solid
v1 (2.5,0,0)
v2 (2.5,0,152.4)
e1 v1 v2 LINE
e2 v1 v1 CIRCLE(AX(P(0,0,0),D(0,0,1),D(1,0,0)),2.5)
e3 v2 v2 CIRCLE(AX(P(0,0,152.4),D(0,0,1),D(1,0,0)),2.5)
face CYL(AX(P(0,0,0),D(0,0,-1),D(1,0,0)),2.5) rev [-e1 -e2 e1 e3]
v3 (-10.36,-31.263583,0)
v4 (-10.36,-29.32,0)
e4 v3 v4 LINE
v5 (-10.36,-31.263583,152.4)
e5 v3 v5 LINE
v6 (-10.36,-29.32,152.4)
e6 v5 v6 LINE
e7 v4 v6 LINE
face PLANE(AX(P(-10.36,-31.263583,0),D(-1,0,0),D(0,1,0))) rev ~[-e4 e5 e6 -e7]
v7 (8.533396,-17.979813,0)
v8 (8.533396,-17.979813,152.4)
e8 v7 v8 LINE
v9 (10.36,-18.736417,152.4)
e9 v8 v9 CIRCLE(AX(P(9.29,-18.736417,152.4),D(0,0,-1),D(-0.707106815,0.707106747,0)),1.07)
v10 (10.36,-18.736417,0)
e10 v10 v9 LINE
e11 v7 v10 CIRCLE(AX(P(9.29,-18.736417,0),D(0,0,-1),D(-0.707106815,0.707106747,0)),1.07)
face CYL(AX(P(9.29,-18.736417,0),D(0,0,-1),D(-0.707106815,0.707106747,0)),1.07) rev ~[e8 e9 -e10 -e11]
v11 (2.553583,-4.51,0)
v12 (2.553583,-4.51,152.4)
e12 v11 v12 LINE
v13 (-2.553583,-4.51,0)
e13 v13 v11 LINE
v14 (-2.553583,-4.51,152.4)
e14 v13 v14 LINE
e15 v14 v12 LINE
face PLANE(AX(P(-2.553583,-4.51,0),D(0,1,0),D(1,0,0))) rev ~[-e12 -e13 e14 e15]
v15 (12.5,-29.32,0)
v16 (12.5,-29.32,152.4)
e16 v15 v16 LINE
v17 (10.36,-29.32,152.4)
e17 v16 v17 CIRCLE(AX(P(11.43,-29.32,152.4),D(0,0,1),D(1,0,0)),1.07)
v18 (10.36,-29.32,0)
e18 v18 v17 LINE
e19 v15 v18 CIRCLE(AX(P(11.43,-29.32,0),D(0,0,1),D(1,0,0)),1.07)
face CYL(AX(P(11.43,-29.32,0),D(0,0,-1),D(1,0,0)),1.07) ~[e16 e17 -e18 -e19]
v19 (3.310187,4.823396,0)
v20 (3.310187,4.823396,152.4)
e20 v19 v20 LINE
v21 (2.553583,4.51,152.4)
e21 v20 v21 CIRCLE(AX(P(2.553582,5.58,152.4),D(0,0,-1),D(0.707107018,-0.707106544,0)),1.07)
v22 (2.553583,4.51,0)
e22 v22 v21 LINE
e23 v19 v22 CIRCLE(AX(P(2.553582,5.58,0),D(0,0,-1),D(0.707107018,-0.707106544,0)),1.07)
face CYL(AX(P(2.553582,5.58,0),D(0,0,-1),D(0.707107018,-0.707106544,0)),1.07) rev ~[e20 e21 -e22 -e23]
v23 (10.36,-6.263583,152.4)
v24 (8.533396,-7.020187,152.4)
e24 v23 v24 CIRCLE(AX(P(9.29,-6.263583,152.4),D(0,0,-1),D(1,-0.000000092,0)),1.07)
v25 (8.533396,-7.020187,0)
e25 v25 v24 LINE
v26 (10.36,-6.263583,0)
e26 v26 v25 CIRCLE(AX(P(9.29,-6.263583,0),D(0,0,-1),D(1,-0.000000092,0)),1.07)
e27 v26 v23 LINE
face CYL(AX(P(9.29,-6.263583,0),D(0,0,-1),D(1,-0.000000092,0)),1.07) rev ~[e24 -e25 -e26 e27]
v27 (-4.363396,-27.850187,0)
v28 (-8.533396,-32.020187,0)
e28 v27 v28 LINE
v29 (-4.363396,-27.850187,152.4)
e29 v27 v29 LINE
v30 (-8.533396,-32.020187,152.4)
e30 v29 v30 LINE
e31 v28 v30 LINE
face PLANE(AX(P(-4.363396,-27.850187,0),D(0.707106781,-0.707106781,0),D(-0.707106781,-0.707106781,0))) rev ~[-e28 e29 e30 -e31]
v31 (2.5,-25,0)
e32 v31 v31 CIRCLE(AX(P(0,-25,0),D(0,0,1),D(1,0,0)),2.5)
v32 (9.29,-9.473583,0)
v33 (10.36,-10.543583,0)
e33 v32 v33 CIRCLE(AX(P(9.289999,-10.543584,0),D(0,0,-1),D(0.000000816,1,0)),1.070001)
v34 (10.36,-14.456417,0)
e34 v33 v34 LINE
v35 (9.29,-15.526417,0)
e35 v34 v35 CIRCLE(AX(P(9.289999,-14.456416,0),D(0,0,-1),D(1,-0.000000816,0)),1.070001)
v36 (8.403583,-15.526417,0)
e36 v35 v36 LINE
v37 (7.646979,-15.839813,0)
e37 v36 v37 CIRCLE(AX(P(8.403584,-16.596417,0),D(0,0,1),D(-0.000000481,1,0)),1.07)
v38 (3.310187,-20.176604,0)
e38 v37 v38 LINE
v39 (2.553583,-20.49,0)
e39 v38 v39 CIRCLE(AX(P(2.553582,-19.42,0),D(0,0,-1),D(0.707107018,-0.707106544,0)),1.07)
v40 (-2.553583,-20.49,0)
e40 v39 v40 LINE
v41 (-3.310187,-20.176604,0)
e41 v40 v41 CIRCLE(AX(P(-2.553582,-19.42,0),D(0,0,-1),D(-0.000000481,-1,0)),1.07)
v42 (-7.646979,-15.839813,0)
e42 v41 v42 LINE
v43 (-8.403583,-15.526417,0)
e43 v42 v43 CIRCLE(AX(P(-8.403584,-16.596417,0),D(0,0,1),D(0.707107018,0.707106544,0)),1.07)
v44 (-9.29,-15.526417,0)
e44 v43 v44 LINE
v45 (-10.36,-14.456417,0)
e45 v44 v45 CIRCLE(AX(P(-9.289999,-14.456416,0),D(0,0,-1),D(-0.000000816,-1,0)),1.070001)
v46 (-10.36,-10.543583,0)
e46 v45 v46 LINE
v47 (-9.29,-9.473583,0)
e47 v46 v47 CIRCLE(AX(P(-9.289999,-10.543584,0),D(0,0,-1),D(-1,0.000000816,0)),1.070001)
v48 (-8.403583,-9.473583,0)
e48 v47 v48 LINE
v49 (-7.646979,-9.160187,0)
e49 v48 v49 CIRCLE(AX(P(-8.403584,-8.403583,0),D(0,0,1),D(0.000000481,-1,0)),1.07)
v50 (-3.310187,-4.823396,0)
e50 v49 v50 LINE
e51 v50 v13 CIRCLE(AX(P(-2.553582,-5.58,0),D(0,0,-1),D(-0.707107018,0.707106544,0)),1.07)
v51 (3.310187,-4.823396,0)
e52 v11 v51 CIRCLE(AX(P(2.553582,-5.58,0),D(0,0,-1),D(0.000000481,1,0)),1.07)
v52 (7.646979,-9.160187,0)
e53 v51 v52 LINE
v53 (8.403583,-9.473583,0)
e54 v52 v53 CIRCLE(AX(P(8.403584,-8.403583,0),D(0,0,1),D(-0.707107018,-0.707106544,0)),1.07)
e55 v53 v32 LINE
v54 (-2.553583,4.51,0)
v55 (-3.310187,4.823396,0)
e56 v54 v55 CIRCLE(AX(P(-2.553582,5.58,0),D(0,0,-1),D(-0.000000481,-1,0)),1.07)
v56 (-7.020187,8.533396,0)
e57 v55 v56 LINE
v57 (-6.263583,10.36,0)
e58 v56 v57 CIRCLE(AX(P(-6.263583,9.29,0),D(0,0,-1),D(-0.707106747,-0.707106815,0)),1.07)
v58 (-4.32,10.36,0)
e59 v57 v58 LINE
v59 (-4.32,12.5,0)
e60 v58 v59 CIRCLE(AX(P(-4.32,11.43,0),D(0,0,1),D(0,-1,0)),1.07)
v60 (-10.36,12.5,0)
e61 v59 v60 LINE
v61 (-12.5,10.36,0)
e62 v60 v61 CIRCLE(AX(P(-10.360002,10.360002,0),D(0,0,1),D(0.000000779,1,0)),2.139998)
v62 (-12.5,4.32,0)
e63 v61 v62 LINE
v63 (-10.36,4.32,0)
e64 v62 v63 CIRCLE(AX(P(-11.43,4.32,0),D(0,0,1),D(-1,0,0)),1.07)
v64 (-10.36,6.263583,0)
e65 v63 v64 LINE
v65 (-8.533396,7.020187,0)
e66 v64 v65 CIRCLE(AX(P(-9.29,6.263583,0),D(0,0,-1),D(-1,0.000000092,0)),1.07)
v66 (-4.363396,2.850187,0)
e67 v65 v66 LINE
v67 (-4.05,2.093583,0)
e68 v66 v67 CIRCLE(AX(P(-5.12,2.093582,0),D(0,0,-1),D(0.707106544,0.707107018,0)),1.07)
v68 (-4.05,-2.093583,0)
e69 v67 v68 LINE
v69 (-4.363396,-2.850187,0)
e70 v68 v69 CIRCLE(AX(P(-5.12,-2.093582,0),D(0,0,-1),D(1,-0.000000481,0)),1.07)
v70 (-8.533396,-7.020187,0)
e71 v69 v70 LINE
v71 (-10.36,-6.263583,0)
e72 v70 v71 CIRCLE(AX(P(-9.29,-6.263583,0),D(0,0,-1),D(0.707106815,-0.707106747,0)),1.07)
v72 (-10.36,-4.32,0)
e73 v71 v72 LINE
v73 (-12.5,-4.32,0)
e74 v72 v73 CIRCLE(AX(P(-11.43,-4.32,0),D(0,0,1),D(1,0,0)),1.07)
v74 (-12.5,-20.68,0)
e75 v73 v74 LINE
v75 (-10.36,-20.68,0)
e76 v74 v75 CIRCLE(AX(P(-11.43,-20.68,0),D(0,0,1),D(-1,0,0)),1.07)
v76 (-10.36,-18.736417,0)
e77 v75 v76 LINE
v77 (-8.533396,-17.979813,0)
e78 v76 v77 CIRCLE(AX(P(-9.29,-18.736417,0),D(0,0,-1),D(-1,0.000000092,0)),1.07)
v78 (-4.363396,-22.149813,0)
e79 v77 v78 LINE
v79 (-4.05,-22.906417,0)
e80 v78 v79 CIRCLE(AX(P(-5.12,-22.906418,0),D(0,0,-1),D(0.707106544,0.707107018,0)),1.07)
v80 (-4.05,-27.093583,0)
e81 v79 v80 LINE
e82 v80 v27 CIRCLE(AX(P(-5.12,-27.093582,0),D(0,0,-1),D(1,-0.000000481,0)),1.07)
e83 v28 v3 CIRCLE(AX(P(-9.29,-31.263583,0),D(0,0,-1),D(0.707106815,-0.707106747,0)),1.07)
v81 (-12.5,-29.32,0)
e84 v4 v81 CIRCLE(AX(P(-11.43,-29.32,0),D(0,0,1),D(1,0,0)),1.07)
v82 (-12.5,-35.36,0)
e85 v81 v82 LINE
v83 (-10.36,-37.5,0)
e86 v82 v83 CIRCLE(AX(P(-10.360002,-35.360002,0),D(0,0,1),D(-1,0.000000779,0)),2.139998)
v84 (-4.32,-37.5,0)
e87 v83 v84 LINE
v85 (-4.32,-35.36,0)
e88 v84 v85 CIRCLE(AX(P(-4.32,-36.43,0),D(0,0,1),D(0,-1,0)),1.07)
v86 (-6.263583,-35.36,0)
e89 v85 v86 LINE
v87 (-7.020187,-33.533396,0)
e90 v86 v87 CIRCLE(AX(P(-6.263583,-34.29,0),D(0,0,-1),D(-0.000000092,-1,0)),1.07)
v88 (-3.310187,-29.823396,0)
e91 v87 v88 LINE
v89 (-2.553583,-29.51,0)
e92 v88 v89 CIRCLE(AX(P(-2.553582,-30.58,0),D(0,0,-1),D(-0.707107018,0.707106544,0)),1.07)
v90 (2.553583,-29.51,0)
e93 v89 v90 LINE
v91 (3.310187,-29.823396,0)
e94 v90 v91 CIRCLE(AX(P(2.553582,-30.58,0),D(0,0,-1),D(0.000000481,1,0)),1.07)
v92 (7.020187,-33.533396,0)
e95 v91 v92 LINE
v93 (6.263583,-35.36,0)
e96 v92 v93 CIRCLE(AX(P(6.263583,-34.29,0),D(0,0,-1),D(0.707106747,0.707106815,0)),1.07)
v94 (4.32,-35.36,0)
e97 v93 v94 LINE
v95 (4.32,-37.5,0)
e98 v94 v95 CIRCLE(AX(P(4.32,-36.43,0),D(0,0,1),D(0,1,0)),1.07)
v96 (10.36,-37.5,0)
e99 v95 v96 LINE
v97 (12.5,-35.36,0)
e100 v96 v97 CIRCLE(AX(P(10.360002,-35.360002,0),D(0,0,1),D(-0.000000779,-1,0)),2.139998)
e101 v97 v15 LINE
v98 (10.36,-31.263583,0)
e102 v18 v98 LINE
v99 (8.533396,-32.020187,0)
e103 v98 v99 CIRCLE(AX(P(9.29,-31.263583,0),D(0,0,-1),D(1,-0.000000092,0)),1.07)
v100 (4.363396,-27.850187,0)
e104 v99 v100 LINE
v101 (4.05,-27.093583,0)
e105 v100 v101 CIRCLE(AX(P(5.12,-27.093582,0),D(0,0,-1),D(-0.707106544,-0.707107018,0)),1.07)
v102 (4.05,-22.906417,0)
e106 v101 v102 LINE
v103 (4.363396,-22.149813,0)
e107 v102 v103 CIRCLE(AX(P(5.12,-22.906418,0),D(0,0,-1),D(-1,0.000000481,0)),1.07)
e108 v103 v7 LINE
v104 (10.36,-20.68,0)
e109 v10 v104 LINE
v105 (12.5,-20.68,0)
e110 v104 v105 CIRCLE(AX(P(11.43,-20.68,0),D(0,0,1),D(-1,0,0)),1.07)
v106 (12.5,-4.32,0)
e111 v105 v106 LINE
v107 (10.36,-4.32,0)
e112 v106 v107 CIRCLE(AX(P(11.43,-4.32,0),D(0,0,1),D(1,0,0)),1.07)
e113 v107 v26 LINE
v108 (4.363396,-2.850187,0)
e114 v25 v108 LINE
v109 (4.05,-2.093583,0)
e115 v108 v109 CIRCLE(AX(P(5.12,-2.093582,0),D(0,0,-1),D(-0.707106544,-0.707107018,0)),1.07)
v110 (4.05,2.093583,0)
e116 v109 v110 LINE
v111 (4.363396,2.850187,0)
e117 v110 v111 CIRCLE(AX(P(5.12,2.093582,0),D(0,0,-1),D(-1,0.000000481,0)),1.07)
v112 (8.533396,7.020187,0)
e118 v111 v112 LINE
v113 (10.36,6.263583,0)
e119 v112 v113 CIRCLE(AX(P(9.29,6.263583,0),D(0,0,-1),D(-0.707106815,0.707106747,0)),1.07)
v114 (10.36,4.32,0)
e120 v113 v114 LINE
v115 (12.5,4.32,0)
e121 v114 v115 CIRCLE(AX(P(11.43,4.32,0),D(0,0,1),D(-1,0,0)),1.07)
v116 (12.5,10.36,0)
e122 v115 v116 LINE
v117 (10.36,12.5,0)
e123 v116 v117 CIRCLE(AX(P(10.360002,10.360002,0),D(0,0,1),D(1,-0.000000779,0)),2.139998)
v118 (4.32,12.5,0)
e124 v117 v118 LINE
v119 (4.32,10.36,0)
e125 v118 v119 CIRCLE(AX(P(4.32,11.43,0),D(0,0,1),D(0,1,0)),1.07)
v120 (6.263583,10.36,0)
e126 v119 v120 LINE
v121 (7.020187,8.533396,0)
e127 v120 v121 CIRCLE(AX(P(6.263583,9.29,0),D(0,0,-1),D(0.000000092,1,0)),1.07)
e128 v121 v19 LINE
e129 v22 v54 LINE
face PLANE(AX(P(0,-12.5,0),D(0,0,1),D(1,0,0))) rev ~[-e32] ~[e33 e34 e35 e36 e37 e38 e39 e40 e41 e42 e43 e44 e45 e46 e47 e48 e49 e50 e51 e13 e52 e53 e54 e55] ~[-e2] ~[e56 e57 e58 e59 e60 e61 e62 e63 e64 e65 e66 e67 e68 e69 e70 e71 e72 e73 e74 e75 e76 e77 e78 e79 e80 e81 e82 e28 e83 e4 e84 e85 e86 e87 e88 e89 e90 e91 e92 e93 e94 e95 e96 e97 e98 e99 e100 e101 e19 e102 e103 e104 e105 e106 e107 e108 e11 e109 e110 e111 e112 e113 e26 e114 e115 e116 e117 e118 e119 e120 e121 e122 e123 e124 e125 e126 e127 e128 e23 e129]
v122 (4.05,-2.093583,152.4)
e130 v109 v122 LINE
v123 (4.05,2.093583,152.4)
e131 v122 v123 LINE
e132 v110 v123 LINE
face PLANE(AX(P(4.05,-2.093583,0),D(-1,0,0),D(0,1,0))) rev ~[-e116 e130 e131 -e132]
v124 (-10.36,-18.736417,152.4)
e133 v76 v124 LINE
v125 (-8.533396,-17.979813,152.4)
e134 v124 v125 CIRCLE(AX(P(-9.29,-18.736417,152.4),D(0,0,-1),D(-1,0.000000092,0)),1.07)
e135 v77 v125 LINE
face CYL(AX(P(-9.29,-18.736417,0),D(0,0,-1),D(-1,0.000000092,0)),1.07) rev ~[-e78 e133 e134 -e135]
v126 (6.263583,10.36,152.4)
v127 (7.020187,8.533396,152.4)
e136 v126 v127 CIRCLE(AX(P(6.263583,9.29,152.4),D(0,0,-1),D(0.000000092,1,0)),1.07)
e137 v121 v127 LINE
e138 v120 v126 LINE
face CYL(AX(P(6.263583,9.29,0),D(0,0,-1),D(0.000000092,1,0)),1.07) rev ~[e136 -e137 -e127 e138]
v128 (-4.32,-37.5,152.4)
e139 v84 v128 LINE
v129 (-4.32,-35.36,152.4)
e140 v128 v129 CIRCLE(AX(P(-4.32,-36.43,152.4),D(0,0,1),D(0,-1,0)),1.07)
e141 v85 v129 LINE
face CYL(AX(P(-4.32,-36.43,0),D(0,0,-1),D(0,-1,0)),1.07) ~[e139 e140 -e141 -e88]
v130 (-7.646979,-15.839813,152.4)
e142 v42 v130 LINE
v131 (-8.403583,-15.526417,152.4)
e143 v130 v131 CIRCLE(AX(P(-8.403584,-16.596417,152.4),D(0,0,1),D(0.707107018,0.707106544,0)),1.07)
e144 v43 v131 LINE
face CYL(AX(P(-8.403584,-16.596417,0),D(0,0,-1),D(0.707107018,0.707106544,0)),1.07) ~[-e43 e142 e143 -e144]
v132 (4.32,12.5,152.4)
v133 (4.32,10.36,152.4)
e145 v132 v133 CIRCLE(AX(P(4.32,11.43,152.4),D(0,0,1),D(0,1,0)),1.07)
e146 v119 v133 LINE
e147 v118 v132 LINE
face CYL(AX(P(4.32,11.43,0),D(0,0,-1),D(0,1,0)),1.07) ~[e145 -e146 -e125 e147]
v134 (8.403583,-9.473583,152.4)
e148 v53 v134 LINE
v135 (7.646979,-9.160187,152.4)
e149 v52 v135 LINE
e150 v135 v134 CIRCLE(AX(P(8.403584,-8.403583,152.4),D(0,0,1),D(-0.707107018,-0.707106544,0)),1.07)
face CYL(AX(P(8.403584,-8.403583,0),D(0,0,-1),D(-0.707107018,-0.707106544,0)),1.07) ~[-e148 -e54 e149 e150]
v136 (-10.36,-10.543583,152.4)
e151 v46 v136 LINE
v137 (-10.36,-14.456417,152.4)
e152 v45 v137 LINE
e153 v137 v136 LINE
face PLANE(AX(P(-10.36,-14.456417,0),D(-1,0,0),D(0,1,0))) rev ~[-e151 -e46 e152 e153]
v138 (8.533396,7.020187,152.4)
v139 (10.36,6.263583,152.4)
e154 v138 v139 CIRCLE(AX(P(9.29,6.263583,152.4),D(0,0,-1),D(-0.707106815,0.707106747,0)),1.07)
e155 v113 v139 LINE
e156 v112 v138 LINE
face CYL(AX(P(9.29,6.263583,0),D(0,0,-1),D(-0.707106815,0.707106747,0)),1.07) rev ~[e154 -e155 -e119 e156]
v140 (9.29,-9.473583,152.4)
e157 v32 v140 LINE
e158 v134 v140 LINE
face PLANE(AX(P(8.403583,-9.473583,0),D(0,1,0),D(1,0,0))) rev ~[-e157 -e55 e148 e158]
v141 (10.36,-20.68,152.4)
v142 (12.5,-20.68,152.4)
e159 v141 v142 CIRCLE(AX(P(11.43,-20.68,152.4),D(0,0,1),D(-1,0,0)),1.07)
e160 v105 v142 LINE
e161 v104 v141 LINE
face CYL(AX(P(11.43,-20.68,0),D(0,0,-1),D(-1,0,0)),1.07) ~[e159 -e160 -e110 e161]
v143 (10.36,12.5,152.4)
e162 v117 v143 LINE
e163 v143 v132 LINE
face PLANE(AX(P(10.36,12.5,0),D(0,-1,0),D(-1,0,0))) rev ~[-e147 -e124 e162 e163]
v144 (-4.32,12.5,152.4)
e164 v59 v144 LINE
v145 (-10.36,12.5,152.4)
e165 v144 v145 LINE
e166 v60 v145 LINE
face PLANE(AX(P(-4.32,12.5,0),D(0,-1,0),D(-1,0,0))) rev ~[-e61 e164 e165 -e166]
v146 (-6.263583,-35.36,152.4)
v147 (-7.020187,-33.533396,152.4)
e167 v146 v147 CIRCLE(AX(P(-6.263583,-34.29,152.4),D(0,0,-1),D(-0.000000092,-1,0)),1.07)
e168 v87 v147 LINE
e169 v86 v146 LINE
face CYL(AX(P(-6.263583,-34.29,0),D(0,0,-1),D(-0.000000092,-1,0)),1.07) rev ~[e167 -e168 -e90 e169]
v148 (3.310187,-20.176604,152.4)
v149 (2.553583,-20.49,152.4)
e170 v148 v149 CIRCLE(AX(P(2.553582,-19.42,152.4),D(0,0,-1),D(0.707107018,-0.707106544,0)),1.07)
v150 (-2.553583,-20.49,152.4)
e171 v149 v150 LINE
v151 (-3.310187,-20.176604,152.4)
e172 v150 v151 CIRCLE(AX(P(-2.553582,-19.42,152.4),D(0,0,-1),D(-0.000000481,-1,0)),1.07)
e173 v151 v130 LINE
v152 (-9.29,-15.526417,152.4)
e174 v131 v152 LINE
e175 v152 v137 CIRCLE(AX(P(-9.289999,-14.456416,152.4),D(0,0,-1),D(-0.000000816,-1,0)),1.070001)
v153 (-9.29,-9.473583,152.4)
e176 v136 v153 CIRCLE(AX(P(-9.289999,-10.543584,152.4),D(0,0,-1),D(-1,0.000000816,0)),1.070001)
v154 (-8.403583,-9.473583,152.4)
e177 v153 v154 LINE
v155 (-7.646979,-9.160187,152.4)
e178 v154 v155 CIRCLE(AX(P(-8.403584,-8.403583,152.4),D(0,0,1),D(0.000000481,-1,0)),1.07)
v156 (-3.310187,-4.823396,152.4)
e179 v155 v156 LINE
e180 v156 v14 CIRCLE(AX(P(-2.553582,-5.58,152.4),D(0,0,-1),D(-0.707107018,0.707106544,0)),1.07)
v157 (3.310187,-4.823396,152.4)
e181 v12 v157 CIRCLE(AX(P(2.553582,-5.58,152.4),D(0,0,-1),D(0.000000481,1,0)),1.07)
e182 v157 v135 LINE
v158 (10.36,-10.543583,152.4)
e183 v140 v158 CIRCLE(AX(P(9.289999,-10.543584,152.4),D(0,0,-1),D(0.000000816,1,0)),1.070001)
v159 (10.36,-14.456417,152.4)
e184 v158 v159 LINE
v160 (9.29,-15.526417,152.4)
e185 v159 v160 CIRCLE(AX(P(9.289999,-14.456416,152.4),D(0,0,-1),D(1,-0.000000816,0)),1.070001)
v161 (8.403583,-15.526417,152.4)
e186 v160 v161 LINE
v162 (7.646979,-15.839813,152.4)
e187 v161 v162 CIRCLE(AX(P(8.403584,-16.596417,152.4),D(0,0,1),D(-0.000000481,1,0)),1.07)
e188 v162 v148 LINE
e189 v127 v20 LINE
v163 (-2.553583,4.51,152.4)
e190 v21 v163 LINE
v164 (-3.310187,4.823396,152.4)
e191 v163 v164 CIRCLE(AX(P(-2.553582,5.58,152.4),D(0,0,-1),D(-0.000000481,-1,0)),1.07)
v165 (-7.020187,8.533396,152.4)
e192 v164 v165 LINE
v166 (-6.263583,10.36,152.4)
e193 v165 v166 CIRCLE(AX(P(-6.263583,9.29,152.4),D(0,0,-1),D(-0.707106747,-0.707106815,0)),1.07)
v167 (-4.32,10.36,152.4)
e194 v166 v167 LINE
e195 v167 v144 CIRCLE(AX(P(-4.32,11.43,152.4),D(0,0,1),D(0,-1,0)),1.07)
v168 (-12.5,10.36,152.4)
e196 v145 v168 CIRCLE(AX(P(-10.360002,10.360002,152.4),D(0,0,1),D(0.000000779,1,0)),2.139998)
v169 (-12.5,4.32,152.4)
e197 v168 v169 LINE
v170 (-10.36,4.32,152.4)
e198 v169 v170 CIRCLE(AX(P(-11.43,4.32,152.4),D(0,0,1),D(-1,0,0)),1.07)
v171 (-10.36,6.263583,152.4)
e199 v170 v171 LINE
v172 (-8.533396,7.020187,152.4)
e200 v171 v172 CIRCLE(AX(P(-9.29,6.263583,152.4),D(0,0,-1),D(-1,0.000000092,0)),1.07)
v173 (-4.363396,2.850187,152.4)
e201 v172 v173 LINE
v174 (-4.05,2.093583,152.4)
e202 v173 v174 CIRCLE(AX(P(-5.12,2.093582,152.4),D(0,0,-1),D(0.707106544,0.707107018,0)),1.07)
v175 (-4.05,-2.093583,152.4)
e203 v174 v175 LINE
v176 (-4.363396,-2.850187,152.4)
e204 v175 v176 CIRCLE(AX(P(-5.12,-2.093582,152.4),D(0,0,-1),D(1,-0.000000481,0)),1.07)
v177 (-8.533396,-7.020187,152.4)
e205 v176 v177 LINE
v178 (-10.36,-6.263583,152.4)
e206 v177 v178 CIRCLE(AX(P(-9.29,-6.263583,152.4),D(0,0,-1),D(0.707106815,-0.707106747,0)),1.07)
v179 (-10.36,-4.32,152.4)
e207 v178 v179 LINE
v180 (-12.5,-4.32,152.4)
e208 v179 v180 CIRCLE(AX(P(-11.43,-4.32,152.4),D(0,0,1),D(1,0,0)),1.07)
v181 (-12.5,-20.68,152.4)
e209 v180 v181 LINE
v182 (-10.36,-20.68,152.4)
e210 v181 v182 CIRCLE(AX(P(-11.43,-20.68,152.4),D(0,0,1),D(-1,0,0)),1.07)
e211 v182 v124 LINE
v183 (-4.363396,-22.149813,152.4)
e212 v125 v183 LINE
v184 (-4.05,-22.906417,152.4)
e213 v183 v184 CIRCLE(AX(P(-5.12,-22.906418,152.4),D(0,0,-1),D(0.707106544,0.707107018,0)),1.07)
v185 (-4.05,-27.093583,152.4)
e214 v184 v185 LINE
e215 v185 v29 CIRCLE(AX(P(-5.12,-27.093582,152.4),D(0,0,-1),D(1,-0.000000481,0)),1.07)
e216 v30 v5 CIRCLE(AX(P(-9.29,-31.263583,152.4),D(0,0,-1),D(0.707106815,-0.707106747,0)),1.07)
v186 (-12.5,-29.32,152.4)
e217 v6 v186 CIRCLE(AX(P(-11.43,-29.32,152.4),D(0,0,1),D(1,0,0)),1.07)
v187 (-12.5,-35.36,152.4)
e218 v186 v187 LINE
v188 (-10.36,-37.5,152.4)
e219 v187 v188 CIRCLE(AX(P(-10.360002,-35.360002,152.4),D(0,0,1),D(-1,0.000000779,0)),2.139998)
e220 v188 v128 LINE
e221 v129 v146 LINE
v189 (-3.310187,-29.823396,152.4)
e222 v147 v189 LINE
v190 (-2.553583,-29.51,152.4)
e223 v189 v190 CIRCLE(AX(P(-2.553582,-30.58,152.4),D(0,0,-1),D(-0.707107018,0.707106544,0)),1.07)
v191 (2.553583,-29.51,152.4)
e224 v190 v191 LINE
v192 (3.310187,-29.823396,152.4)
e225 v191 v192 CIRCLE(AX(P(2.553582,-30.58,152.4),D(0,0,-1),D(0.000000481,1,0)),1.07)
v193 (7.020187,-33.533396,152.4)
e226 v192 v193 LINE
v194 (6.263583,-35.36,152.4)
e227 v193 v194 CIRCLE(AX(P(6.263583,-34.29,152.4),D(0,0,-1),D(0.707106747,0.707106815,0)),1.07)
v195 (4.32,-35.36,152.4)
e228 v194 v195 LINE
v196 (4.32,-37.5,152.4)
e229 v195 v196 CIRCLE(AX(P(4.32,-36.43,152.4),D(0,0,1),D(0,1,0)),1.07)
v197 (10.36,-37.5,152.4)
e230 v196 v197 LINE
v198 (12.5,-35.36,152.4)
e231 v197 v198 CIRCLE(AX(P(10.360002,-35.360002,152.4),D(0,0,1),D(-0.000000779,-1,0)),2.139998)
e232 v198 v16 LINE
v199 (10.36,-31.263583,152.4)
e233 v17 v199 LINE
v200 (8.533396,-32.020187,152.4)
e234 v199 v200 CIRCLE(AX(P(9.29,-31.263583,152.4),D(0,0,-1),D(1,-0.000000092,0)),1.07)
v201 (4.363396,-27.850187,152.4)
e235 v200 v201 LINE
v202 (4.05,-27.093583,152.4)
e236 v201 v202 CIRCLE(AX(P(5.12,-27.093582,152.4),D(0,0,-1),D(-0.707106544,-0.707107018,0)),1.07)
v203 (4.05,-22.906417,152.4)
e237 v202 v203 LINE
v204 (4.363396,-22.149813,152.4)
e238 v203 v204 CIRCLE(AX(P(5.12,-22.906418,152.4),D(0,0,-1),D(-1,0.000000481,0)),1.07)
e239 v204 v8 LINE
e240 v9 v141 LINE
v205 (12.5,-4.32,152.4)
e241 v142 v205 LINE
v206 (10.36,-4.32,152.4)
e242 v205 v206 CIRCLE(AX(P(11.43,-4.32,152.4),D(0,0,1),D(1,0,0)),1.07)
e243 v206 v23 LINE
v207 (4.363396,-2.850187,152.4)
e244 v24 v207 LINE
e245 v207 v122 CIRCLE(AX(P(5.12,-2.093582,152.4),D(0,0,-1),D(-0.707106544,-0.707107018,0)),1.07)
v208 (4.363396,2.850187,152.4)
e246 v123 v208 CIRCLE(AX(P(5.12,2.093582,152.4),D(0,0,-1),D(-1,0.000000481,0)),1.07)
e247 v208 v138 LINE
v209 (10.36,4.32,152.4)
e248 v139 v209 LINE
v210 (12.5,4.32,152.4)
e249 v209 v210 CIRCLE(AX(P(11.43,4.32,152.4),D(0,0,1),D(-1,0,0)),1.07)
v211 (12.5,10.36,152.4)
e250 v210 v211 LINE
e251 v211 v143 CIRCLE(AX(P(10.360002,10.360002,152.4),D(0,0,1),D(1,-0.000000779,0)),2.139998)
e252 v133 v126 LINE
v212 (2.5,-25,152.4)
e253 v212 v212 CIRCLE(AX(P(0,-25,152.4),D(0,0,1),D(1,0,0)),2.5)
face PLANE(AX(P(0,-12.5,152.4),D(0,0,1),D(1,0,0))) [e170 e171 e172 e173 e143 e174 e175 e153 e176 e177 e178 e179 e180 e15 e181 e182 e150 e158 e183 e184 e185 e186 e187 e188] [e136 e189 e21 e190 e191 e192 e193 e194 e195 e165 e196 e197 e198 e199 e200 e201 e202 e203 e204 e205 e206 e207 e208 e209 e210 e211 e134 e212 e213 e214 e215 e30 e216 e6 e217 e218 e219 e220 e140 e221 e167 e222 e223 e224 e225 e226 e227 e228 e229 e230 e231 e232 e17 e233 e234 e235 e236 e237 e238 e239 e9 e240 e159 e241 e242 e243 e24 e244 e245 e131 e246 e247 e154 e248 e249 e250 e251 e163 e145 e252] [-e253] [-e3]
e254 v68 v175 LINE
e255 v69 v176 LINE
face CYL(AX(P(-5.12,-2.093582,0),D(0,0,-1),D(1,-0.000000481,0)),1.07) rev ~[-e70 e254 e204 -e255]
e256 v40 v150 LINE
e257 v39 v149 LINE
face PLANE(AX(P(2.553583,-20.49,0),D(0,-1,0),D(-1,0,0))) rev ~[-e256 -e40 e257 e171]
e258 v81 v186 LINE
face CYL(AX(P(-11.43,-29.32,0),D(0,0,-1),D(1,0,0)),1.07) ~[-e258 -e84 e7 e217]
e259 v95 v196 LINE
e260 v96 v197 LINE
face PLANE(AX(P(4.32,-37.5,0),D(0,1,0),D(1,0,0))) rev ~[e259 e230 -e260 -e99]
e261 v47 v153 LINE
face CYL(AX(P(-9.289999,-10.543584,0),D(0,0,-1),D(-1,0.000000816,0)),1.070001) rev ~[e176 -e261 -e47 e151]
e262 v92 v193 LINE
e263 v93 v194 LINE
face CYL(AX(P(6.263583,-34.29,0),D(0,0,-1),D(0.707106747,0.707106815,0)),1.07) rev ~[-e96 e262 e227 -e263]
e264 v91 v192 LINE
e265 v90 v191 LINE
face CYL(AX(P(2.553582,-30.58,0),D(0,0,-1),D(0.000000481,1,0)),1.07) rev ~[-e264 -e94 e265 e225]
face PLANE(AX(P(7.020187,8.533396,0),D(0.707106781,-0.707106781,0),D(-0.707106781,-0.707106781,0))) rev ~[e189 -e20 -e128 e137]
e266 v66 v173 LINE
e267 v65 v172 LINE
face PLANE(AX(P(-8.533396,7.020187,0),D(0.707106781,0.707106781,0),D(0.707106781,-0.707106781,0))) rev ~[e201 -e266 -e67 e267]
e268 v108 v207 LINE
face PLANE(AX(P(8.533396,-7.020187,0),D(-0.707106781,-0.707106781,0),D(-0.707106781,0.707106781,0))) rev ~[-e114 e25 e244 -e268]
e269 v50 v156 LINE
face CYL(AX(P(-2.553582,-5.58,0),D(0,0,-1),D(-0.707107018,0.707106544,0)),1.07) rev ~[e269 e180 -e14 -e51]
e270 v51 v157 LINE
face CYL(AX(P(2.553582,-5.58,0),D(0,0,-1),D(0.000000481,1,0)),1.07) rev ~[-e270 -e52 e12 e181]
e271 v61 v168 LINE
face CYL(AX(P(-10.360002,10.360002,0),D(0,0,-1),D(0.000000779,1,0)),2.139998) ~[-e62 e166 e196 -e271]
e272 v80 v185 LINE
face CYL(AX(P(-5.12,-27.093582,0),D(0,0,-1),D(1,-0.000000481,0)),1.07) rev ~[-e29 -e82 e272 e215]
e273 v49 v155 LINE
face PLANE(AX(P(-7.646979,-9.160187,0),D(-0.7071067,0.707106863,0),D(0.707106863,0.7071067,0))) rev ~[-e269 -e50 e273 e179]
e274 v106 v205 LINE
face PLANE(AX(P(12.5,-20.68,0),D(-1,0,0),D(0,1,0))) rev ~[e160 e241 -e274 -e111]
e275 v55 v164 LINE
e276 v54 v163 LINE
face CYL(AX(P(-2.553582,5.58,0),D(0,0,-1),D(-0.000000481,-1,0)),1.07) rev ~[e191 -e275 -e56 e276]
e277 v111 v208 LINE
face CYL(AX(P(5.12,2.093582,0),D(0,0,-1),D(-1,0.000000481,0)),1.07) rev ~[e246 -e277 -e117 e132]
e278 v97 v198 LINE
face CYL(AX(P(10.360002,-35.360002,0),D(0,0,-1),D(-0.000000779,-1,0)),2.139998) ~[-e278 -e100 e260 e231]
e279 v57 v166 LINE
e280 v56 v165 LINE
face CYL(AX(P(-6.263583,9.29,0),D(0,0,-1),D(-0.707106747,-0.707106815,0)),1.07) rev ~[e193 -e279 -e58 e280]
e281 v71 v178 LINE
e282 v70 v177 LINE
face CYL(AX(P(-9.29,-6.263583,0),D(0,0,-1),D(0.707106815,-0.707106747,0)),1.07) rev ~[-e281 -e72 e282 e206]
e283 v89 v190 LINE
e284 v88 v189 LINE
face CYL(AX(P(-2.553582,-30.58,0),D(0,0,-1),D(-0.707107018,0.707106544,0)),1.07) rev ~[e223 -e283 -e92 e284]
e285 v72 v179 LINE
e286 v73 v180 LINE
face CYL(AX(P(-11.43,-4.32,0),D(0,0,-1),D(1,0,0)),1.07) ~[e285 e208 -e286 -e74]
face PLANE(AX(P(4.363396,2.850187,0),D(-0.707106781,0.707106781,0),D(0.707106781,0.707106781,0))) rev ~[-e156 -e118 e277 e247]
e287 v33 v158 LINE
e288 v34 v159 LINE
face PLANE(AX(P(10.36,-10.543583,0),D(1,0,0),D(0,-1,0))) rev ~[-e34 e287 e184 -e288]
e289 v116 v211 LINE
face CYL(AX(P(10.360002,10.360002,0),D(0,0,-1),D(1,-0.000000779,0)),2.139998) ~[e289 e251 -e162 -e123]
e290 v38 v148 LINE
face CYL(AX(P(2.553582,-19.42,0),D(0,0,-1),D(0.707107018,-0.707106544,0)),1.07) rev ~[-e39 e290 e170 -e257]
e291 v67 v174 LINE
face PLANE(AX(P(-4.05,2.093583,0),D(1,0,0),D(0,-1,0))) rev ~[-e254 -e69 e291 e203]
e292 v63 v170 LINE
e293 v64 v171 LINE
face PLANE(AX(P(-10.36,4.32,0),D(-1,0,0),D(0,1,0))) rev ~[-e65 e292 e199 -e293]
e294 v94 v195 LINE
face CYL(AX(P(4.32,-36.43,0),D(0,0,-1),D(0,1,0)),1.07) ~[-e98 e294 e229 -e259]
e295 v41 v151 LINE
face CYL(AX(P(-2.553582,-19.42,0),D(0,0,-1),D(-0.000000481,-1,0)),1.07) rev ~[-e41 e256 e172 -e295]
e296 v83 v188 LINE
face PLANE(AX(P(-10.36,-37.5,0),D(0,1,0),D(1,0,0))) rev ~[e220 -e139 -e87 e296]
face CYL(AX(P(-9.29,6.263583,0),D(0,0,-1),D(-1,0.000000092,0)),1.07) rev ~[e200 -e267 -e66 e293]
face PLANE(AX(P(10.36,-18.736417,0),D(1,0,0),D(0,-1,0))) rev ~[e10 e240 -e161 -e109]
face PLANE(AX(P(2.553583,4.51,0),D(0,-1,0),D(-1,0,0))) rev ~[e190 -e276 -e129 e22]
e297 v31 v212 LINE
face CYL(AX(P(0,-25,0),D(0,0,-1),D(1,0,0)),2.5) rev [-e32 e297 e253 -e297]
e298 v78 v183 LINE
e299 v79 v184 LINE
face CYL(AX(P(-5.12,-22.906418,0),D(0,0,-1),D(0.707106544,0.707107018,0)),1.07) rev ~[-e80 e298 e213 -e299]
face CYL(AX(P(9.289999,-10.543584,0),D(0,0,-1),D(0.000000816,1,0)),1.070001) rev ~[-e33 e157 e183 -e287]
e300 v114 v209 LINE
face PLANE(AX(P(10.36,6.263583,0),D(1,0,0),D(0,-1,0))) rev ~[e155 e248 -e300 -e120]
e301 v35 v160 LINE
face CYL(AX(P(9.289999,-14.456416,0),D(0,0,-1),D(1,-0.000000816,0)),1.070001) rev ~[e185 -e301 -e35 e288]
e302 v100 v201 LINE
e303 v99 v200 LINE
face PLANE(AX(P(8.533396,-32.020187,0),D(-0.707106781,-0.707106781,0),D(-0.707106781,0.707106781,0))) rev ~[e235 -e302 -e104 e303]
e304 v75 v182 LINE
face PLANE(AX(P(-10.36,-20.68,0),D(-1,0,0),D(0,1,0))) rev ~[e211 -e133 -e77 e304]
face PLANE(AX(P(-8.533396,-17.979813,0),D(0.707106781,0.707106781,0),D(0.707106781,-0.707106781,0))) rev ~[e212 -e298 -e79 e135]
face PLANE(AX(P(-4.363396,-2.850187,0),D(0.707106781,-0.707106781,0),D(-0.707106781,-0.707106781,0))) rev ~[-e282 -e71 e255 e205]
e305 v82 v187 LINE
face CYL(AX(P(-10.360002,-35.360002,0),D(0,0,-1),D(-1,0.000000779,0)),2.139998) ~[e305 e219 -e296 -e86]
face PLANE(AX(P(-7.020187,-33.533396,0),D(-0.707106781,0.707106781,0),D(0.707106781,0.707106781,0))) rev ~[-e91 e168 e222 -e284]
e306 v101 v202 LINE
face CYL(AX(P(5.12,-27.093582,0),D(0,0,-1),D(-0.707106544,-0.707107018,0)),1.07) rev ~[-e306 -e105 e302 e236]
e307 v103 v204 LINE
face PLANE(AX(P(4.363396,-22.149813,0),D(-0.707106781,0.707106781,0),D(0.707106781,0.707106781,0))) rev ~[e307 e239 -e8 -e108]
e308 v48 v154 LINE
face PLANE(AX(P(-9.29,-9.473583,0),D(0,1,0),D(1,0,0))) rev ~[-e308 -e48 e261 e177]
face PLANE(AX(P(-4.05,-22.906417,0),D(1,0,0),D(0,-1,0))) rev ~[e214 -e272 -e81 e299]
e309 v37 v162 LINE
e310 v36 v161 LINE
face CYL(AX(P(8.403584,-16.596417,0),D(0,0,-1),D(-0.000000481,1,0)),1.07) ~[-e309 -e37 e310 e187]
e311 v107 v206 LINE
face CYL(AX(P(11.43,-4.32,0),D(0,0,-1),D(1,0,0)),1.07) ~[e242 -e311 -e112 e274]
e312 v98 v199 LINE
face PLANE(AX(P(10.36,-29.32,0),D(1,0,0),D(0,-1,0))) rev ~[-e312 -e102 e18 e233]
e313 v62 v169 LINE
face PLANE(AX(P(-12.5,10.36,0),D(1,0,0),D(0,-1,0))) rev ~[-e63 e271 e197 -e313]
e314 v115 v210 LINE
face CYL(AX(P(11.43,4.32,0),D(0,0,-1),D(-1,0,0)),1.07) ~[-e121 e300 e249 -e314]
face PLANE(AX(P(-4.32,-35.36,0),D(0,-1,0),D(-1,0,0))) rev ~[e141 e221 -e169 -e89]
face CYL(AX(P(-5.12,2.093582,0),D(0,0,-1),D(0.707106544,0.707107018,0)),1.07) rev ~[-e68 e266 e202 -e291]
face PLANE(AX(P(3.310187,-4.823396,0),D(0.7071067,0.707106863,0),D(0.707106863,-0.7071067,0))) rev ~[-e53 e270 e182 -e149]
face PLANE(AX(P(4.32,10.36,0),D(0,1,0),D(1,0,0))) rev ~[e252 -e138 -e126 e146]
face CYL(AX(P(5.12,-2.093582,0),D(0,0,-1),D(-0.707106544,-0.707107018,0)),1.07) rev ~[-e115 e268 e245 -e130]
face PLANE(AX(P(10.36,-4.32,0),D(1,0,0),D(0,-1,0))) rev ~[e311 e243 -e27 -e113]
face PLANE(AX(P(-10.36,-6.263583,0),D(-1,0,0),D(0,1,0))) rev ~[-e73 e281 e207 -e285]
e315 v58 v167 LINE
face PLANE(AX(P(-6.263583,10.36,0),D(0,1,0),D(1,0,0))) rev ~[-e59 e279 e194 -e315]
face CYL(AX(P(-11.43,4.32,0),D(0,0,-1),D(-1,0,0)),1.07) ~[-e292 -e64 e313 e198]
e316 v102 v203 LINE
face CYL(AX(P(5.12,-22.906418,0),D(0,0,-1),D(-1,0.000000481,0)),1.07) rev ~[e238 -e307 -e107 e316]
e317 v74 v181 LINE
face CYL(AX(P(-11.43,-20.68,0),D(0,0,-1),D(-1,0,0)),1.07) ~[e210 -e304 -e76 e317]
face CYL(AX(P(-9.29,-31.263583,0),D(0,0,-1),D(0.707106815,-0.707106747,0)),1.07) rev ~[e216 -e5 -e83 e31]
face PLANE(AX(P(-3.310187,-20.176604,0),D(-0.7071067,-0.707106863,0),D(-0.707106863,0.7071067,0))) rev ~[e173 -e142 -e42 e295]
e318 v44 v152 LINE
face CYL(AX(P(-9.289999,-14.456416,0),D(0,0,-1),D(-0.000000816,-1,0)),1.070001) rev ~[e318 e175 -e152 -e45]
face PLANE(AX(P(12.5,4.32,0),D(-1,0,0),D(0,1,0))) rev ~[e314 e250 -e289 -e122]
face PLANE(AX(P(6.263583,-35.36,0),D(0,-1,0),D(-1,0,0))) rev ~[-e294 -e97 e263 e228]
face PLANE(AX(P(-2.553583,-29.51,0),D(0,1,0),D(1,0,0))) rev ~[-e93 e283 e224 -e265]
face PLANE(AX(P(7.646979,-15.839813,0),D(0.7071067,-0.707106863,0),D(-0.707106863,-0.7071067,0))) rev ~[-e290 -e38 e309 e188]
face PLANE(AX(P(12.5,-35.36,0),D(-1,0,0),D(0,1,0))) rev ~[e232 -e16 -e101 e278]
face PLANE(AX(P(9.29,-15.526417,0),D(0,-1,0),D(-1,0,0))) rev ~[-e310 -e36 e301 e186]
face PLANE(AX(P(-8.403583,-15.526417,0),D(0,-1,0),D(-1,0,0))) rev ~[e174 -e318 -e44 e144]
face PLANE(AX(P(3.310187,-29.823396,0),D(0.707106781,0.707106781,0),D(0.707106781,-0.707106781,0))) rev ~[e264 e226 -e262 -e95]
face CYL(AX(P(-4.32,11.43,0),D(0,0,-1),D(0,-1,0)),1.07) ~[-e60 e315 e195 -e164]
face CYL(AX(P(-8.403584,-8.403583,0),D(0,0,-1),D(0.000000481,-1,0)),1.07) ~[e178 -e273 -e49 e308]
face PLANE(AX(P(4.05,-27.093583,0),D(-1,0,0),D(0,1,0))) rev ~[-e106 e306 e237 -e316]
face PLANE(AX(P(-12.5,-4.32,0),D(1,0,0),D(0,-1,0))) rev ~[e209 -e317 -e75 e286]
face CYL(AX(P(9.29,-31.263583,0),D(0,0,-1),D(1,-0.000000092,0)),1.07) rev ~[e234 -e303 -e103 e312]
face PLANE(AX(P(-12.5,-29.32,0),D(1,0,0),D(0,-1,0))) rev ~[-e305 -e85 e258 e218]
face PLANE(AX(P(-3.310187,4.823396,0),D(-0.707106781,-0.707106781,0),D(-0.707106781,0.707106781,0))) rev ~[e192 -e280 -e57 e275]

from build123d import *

# Parameters (mm, degrees)
F0_R     = 2.5
F1_DEPTH = 152.4


with BuildPart() as f1:
    # F0 (on Top) → F1 (new body)
    with BuildSketch(Plane.XY):
        with BuildLine():
            ThreePointArc((-10.36, 12.5), (-11.873209, 11.873209), (-12.5, 10.36))
            Line((-12.5, 10.36), (-12.5, 4.32))
            ThreePointArc((-12.5, 4.32), (-11.43, 3.25), (-10.36, 4.32))
            Line((-10.36, 4.32), (-10.36, 6.263583))
            ThreePointArc((-10.36, 6.263583), (-9.699471, 7.252134), (-8.533396, 7.020187))
            Line((-8.533396, 7.020187), (-4.363396, 2.850187))
            ThreePointArc((-4.363396, 2.850187), (-4.131449, 2.503054), (-4.05, 2.093583))
            Line((-4.05, 2.093583), (-4.05, 0))
            Line((-4.05, 0), (-4.05, -2.093583))
            ThreePointArc((-4.05, -2.093583), (-4.131449, -2.503054), (-4.363396, -2.850187))
            Line((-4.363396, -2.850187), (-8.533396, -7.020187))
            ThreePointArc((-8.533396, -7.020187), (-9.699471, -7.252134), (-10.36, -6.263583))
            Line((-10.36, -6.263583), (-10.36, -4.32))
            ThreePointArc((-10.36, -4.32), (-11.43, -3.25), (-12.5, -4.32))
            Line((-12.5, -4.32), (-12.5, -12.5))
            Line((-12.5, -12.5), (-12.5, -20.68))
            ThreePointArc((-12.5, -20.68), (-11.43, -21.75), (-10.36, -20.68))
            Line((-10.36, -20.68), (-10.36, -18.736417))
            ThreePointArc((-10.36, -18.736417), (-9.699471, -17.747866), (-8.533396, -17.979813))
            Line((-8.533396, -17.979813), (-4.363396, -22.149813))
            ThreePointArc((-4.363396, -22.149813), (-4.131449, -22.496946), (-4.05, -22.906417))
            Line((-4.05, -22.906417), (-4.05, -25))
            Line((-4.05, -25), (-4.05, -27.093583))
            ThreePointArc((-4.05, -27.093583), (-4.131449, -27.503054), (-4.363396, -27.850187))
            Line((-4.363396, -27.850187), (-8.533396, -32.020187))
            ThreePointArc((-8.533396, -32.020187), (-9.699471, -32.252134), (-10.36, -31.263583))
            Line((-10.36, -31.263583), (-10.36, -29.32))
            ThreePointArc((-10.36, -29.32), (-11.43, -28.25), (-12.5, -29.32))
            Line((-12.5, -29.32), (-12.5, -35.36))
            ThreePointArc((-12.5, -35.36), (-11.873209, -36.873209), (-10.36, -37.5))
            Line((-10.36, -37.5), (-4.32, -37.5))
            ThreePointArc((-4.32, -37.5), (-3.25, -36.43), (-4.32, -35.36))
            Line((-4.32, -35.36), (-6.263583, -35.36))
            ThreePointArc((-6.263583, -35.36), (-7.252134, -34.699471), (-7.020187, -33.533396))
            Line((-7.020187, -33.533396), (-3.310187, -29.823396))
            ThreePointArc((-3.310187, -29.823396), (-2.963054, -29.591449), (-2.553583, -29.51))
            Line((-2.553583, -29.51), (0, -29.51))
            Line((0, -29.51), (2.553583, -29.51))
            ThreePointArc((2.553583, -29.51), (2.963054, -29.591449), (3.310187, -29.823396))
            Line((3.310187, -29.823396), (7.020187, -33.533396))
            ThreePointArc((7.020187, -33.533396), (7.252134, -34.699471), (6.263583, -35.36))
            Line((6.263583, -35.36), (4.32, -35.36))
            ThreePointArc((4.32, -35.36), (3.25, -36.43), (4.32, -37.5))
            Line((4.32, -37.5), (10.36, -37.5))
            ThreePointArc((10.36, -37.5), (11.873209, -36.873209), (12.5, -35.36))
            Line((12.5, -35.36), (12.5, -29.32))
            ThreePointArc((12.5, -29.32), (11.43, -28.25), (10.36, -29.32))
            Line((10.36, -29.32), (10.36, -31.263583))
            ThreePointArc((10.36, -31.263583), (9.699471, -32.252134), (8.533396, -32.020187))
            Line((8.533396, -32.020187), (4.363396, -27.850187))
            ThreePointArc((4.363396, -27.850187), (4.131449, -27.503054), (4.05, -27.093583))
            Line((4.05, -27.093583), (4.05, -25))
            Line((4.05, -25), (4.05, -22.906417))
            ThreePointArc((4.05, -22.906417), (4.131449, -22.496946), (4.363396, -22.149813))
            Line((4.363396, -22.149813), (8.533396, -17.979813))
            ThreePointArc((8.533396, -17.979813), (9.699471, -17.747866), (10.36, -18.736417))
            Line((10.36, -18.736417), (10.36, -20.68))
            ThreePointArc((10.36, -20.68), (11.43, -21.75), (12.5, -20.68))
            Line((12.5, -20.68), (12.5, -12.5))
            Line((12.5, -12.5), (12.5, -4.32))
            ThreePointArc((12.5, -4.32), (11.43, -3.25), (10.36, -4.32))
            Line((10.36, -4.32), (10.36, -6.263583))
            ThreePointArc((10.36, -6.263583), (9.699471, -7.252134), (8.533396, -7.020187))
            Line((8.533396, -7.020187), (4.363396, -2.850187))
            ThreePointArc((4.363396, -2.850187), (4.131449, -2.503054), (4.05, -2.093583))
            Line((4.05, -2.093583), (4.05, 0))
            Line((4.05, 0), (4.05, 2.093583))
            ThreePointArc((4.05, 2.093583), (4.131449, 2.503054), (4.363396, 2.850187))
            Line((4.363396, 2.850187), (8.533396, 7.020187))
            ThreePointArc((8.533396, 7.020187), (9.699471, 7.252134), (10.36, 6.263583))
            Line((10.36, 6.263583), (10.36, 4.32))
            ThreePointArc((10.36, 4.32), (11.43, 3.25), (12.5, 4.32))
            Line((12.5, 4.32), (12.5, 10.36))
            ThreePointArc((12.5, 10.36), (11.873209, 11.873209), (10.36, 12.5))
            Line((10.36, 12.5), (4.32, 12.5))
            ThreePointArc((4.32, 12.5), (3.25, 11.43), (4.32, 10.36))
            Line((4.32, 10.36), (6.263583, 10.36))
            ThreePointArc((6.263583, 10.36), (7.252134, 9.699471), (7.020187, 8.533396))
            Line((7.020187, 8.533396), (3.310187, 4.823396))
            ThreePointArc((3.310187, 4.823396), (2.963054, 4.591449), (2.553583, 4.51))
            Line((2.553583, 4.51), (0, 4.51))
            Line((0, 4.51), (-2.553583, 4.51))
            ThreePointArc((-2.553583, 4.51), (-2.963054, 4.591449), (-3.310187, 4.823396))
            Line((-3.310187, 4.823396), (-7.020187, 8.533396))
            ThreePointArc((-7.020187, 8.533396), (-7.252134, 9.699471), (-6.263583, 10.36))
            Line((-6.263583, 10.36), (-4.32, 10.36))
            ThreePointArc((-4.32, 10.36), (-3.25, 11.43), (-4.32, 12.5))
            Line((-4.32, 12.5), (-10.36, 12.5))
        make_face()
        with Locations((0, -25)):
            Circle(F0_R, mode=Mode.SUBTRACT)
        with BuildLine():
            Line((-2.553583, -4.51), (0, -4.51))
            Line((0, -4.51), (2.553583, -4.51))
            ThreePointArc((2.553583, -4.51), (2.963054, -4.591449), (3.310187, -4.823396))
            Line((3.310187, -4.823396), (7.646979, -9.160187))
            ThreePointArc((7.646979, -9.160187), (7.994112, -9.392134), (8.403583, -9.473583))
            Line((8.403583, -9.473583), (9.29, -9.473583))
            ThreePointArc((9.29, -9.473583), (10.046604, -9.786979), (10.36, -10.543583))
            Line((10.36, -10.543583), (10.36, -12.5))
            Line((10.36, -12.5), (10.36, -14.456417))
            ThreePointArc((10.36, -14.456417), (10.046604, -15.213021), (9.29, -15.526417))
            Line((9.29, -15.526417), (8.403583, -15.526417))
            ThreePointArc((8.403583, -15.526417), (7.994112, -15.607866), (7.646979, -15.839813))
            Line((7.646979, -15.839813), (3.310187, -20.176604))
            ThreePointArc((3.310187, -20.176604), (2.963054, -20.408551), (2.553583, -20.49))
            Line((2.553583, -20.49), (0, -20.49))
            Line((0, -20.49), (-2.553583, -20.49))
            ThreePointArc((-2.553583, -20.49), (-2.963054, -20.408551), (-3.310187, -20.176604))
            Line((-3.310187, -20.176604), (-7.646979, -15.839813))
            ThreePointArc((-7.646979, -15.839813), (-7.994112, -15.607866), (-8.403583, -15.526417))
            Line((-8.403583, -15.526417), (-9.29, -15.526417))
            ThreePointArc((-9.29, -15.526417), (-10.046604, -15.213021), (-10.36, -14.456417))
            Line((-10.36, -14.456417), (-10.36, -12.5))
            Line((-10.36, -12.5), (-10.36, -10.543583))
            ThreePointArc((-10.36, -10.543583), (-10.046604, -9.786979), (-9.29, -9.473583))
            Line((-9.29, -9.473583), (-8.403583, -9.473583))
            ThreePointArc((-8.403583, -9.473583), (-7.994112, -9.392134), (-7.646979, -9.160187))
            Line((-7.646979, -9.160187), (-3.310187, -4.823396))
            ThreePointArc((-3.310187, -4.823396), (-2.963054, -4.591449), (-2.553583, -4.51))
        make_face(mode=Mode.SUBTRACT)
        Circle(F0_R, mode=Mode.SUBTRACT)
    extrude(amount=F1_DEPTH)


solid = f1.part
